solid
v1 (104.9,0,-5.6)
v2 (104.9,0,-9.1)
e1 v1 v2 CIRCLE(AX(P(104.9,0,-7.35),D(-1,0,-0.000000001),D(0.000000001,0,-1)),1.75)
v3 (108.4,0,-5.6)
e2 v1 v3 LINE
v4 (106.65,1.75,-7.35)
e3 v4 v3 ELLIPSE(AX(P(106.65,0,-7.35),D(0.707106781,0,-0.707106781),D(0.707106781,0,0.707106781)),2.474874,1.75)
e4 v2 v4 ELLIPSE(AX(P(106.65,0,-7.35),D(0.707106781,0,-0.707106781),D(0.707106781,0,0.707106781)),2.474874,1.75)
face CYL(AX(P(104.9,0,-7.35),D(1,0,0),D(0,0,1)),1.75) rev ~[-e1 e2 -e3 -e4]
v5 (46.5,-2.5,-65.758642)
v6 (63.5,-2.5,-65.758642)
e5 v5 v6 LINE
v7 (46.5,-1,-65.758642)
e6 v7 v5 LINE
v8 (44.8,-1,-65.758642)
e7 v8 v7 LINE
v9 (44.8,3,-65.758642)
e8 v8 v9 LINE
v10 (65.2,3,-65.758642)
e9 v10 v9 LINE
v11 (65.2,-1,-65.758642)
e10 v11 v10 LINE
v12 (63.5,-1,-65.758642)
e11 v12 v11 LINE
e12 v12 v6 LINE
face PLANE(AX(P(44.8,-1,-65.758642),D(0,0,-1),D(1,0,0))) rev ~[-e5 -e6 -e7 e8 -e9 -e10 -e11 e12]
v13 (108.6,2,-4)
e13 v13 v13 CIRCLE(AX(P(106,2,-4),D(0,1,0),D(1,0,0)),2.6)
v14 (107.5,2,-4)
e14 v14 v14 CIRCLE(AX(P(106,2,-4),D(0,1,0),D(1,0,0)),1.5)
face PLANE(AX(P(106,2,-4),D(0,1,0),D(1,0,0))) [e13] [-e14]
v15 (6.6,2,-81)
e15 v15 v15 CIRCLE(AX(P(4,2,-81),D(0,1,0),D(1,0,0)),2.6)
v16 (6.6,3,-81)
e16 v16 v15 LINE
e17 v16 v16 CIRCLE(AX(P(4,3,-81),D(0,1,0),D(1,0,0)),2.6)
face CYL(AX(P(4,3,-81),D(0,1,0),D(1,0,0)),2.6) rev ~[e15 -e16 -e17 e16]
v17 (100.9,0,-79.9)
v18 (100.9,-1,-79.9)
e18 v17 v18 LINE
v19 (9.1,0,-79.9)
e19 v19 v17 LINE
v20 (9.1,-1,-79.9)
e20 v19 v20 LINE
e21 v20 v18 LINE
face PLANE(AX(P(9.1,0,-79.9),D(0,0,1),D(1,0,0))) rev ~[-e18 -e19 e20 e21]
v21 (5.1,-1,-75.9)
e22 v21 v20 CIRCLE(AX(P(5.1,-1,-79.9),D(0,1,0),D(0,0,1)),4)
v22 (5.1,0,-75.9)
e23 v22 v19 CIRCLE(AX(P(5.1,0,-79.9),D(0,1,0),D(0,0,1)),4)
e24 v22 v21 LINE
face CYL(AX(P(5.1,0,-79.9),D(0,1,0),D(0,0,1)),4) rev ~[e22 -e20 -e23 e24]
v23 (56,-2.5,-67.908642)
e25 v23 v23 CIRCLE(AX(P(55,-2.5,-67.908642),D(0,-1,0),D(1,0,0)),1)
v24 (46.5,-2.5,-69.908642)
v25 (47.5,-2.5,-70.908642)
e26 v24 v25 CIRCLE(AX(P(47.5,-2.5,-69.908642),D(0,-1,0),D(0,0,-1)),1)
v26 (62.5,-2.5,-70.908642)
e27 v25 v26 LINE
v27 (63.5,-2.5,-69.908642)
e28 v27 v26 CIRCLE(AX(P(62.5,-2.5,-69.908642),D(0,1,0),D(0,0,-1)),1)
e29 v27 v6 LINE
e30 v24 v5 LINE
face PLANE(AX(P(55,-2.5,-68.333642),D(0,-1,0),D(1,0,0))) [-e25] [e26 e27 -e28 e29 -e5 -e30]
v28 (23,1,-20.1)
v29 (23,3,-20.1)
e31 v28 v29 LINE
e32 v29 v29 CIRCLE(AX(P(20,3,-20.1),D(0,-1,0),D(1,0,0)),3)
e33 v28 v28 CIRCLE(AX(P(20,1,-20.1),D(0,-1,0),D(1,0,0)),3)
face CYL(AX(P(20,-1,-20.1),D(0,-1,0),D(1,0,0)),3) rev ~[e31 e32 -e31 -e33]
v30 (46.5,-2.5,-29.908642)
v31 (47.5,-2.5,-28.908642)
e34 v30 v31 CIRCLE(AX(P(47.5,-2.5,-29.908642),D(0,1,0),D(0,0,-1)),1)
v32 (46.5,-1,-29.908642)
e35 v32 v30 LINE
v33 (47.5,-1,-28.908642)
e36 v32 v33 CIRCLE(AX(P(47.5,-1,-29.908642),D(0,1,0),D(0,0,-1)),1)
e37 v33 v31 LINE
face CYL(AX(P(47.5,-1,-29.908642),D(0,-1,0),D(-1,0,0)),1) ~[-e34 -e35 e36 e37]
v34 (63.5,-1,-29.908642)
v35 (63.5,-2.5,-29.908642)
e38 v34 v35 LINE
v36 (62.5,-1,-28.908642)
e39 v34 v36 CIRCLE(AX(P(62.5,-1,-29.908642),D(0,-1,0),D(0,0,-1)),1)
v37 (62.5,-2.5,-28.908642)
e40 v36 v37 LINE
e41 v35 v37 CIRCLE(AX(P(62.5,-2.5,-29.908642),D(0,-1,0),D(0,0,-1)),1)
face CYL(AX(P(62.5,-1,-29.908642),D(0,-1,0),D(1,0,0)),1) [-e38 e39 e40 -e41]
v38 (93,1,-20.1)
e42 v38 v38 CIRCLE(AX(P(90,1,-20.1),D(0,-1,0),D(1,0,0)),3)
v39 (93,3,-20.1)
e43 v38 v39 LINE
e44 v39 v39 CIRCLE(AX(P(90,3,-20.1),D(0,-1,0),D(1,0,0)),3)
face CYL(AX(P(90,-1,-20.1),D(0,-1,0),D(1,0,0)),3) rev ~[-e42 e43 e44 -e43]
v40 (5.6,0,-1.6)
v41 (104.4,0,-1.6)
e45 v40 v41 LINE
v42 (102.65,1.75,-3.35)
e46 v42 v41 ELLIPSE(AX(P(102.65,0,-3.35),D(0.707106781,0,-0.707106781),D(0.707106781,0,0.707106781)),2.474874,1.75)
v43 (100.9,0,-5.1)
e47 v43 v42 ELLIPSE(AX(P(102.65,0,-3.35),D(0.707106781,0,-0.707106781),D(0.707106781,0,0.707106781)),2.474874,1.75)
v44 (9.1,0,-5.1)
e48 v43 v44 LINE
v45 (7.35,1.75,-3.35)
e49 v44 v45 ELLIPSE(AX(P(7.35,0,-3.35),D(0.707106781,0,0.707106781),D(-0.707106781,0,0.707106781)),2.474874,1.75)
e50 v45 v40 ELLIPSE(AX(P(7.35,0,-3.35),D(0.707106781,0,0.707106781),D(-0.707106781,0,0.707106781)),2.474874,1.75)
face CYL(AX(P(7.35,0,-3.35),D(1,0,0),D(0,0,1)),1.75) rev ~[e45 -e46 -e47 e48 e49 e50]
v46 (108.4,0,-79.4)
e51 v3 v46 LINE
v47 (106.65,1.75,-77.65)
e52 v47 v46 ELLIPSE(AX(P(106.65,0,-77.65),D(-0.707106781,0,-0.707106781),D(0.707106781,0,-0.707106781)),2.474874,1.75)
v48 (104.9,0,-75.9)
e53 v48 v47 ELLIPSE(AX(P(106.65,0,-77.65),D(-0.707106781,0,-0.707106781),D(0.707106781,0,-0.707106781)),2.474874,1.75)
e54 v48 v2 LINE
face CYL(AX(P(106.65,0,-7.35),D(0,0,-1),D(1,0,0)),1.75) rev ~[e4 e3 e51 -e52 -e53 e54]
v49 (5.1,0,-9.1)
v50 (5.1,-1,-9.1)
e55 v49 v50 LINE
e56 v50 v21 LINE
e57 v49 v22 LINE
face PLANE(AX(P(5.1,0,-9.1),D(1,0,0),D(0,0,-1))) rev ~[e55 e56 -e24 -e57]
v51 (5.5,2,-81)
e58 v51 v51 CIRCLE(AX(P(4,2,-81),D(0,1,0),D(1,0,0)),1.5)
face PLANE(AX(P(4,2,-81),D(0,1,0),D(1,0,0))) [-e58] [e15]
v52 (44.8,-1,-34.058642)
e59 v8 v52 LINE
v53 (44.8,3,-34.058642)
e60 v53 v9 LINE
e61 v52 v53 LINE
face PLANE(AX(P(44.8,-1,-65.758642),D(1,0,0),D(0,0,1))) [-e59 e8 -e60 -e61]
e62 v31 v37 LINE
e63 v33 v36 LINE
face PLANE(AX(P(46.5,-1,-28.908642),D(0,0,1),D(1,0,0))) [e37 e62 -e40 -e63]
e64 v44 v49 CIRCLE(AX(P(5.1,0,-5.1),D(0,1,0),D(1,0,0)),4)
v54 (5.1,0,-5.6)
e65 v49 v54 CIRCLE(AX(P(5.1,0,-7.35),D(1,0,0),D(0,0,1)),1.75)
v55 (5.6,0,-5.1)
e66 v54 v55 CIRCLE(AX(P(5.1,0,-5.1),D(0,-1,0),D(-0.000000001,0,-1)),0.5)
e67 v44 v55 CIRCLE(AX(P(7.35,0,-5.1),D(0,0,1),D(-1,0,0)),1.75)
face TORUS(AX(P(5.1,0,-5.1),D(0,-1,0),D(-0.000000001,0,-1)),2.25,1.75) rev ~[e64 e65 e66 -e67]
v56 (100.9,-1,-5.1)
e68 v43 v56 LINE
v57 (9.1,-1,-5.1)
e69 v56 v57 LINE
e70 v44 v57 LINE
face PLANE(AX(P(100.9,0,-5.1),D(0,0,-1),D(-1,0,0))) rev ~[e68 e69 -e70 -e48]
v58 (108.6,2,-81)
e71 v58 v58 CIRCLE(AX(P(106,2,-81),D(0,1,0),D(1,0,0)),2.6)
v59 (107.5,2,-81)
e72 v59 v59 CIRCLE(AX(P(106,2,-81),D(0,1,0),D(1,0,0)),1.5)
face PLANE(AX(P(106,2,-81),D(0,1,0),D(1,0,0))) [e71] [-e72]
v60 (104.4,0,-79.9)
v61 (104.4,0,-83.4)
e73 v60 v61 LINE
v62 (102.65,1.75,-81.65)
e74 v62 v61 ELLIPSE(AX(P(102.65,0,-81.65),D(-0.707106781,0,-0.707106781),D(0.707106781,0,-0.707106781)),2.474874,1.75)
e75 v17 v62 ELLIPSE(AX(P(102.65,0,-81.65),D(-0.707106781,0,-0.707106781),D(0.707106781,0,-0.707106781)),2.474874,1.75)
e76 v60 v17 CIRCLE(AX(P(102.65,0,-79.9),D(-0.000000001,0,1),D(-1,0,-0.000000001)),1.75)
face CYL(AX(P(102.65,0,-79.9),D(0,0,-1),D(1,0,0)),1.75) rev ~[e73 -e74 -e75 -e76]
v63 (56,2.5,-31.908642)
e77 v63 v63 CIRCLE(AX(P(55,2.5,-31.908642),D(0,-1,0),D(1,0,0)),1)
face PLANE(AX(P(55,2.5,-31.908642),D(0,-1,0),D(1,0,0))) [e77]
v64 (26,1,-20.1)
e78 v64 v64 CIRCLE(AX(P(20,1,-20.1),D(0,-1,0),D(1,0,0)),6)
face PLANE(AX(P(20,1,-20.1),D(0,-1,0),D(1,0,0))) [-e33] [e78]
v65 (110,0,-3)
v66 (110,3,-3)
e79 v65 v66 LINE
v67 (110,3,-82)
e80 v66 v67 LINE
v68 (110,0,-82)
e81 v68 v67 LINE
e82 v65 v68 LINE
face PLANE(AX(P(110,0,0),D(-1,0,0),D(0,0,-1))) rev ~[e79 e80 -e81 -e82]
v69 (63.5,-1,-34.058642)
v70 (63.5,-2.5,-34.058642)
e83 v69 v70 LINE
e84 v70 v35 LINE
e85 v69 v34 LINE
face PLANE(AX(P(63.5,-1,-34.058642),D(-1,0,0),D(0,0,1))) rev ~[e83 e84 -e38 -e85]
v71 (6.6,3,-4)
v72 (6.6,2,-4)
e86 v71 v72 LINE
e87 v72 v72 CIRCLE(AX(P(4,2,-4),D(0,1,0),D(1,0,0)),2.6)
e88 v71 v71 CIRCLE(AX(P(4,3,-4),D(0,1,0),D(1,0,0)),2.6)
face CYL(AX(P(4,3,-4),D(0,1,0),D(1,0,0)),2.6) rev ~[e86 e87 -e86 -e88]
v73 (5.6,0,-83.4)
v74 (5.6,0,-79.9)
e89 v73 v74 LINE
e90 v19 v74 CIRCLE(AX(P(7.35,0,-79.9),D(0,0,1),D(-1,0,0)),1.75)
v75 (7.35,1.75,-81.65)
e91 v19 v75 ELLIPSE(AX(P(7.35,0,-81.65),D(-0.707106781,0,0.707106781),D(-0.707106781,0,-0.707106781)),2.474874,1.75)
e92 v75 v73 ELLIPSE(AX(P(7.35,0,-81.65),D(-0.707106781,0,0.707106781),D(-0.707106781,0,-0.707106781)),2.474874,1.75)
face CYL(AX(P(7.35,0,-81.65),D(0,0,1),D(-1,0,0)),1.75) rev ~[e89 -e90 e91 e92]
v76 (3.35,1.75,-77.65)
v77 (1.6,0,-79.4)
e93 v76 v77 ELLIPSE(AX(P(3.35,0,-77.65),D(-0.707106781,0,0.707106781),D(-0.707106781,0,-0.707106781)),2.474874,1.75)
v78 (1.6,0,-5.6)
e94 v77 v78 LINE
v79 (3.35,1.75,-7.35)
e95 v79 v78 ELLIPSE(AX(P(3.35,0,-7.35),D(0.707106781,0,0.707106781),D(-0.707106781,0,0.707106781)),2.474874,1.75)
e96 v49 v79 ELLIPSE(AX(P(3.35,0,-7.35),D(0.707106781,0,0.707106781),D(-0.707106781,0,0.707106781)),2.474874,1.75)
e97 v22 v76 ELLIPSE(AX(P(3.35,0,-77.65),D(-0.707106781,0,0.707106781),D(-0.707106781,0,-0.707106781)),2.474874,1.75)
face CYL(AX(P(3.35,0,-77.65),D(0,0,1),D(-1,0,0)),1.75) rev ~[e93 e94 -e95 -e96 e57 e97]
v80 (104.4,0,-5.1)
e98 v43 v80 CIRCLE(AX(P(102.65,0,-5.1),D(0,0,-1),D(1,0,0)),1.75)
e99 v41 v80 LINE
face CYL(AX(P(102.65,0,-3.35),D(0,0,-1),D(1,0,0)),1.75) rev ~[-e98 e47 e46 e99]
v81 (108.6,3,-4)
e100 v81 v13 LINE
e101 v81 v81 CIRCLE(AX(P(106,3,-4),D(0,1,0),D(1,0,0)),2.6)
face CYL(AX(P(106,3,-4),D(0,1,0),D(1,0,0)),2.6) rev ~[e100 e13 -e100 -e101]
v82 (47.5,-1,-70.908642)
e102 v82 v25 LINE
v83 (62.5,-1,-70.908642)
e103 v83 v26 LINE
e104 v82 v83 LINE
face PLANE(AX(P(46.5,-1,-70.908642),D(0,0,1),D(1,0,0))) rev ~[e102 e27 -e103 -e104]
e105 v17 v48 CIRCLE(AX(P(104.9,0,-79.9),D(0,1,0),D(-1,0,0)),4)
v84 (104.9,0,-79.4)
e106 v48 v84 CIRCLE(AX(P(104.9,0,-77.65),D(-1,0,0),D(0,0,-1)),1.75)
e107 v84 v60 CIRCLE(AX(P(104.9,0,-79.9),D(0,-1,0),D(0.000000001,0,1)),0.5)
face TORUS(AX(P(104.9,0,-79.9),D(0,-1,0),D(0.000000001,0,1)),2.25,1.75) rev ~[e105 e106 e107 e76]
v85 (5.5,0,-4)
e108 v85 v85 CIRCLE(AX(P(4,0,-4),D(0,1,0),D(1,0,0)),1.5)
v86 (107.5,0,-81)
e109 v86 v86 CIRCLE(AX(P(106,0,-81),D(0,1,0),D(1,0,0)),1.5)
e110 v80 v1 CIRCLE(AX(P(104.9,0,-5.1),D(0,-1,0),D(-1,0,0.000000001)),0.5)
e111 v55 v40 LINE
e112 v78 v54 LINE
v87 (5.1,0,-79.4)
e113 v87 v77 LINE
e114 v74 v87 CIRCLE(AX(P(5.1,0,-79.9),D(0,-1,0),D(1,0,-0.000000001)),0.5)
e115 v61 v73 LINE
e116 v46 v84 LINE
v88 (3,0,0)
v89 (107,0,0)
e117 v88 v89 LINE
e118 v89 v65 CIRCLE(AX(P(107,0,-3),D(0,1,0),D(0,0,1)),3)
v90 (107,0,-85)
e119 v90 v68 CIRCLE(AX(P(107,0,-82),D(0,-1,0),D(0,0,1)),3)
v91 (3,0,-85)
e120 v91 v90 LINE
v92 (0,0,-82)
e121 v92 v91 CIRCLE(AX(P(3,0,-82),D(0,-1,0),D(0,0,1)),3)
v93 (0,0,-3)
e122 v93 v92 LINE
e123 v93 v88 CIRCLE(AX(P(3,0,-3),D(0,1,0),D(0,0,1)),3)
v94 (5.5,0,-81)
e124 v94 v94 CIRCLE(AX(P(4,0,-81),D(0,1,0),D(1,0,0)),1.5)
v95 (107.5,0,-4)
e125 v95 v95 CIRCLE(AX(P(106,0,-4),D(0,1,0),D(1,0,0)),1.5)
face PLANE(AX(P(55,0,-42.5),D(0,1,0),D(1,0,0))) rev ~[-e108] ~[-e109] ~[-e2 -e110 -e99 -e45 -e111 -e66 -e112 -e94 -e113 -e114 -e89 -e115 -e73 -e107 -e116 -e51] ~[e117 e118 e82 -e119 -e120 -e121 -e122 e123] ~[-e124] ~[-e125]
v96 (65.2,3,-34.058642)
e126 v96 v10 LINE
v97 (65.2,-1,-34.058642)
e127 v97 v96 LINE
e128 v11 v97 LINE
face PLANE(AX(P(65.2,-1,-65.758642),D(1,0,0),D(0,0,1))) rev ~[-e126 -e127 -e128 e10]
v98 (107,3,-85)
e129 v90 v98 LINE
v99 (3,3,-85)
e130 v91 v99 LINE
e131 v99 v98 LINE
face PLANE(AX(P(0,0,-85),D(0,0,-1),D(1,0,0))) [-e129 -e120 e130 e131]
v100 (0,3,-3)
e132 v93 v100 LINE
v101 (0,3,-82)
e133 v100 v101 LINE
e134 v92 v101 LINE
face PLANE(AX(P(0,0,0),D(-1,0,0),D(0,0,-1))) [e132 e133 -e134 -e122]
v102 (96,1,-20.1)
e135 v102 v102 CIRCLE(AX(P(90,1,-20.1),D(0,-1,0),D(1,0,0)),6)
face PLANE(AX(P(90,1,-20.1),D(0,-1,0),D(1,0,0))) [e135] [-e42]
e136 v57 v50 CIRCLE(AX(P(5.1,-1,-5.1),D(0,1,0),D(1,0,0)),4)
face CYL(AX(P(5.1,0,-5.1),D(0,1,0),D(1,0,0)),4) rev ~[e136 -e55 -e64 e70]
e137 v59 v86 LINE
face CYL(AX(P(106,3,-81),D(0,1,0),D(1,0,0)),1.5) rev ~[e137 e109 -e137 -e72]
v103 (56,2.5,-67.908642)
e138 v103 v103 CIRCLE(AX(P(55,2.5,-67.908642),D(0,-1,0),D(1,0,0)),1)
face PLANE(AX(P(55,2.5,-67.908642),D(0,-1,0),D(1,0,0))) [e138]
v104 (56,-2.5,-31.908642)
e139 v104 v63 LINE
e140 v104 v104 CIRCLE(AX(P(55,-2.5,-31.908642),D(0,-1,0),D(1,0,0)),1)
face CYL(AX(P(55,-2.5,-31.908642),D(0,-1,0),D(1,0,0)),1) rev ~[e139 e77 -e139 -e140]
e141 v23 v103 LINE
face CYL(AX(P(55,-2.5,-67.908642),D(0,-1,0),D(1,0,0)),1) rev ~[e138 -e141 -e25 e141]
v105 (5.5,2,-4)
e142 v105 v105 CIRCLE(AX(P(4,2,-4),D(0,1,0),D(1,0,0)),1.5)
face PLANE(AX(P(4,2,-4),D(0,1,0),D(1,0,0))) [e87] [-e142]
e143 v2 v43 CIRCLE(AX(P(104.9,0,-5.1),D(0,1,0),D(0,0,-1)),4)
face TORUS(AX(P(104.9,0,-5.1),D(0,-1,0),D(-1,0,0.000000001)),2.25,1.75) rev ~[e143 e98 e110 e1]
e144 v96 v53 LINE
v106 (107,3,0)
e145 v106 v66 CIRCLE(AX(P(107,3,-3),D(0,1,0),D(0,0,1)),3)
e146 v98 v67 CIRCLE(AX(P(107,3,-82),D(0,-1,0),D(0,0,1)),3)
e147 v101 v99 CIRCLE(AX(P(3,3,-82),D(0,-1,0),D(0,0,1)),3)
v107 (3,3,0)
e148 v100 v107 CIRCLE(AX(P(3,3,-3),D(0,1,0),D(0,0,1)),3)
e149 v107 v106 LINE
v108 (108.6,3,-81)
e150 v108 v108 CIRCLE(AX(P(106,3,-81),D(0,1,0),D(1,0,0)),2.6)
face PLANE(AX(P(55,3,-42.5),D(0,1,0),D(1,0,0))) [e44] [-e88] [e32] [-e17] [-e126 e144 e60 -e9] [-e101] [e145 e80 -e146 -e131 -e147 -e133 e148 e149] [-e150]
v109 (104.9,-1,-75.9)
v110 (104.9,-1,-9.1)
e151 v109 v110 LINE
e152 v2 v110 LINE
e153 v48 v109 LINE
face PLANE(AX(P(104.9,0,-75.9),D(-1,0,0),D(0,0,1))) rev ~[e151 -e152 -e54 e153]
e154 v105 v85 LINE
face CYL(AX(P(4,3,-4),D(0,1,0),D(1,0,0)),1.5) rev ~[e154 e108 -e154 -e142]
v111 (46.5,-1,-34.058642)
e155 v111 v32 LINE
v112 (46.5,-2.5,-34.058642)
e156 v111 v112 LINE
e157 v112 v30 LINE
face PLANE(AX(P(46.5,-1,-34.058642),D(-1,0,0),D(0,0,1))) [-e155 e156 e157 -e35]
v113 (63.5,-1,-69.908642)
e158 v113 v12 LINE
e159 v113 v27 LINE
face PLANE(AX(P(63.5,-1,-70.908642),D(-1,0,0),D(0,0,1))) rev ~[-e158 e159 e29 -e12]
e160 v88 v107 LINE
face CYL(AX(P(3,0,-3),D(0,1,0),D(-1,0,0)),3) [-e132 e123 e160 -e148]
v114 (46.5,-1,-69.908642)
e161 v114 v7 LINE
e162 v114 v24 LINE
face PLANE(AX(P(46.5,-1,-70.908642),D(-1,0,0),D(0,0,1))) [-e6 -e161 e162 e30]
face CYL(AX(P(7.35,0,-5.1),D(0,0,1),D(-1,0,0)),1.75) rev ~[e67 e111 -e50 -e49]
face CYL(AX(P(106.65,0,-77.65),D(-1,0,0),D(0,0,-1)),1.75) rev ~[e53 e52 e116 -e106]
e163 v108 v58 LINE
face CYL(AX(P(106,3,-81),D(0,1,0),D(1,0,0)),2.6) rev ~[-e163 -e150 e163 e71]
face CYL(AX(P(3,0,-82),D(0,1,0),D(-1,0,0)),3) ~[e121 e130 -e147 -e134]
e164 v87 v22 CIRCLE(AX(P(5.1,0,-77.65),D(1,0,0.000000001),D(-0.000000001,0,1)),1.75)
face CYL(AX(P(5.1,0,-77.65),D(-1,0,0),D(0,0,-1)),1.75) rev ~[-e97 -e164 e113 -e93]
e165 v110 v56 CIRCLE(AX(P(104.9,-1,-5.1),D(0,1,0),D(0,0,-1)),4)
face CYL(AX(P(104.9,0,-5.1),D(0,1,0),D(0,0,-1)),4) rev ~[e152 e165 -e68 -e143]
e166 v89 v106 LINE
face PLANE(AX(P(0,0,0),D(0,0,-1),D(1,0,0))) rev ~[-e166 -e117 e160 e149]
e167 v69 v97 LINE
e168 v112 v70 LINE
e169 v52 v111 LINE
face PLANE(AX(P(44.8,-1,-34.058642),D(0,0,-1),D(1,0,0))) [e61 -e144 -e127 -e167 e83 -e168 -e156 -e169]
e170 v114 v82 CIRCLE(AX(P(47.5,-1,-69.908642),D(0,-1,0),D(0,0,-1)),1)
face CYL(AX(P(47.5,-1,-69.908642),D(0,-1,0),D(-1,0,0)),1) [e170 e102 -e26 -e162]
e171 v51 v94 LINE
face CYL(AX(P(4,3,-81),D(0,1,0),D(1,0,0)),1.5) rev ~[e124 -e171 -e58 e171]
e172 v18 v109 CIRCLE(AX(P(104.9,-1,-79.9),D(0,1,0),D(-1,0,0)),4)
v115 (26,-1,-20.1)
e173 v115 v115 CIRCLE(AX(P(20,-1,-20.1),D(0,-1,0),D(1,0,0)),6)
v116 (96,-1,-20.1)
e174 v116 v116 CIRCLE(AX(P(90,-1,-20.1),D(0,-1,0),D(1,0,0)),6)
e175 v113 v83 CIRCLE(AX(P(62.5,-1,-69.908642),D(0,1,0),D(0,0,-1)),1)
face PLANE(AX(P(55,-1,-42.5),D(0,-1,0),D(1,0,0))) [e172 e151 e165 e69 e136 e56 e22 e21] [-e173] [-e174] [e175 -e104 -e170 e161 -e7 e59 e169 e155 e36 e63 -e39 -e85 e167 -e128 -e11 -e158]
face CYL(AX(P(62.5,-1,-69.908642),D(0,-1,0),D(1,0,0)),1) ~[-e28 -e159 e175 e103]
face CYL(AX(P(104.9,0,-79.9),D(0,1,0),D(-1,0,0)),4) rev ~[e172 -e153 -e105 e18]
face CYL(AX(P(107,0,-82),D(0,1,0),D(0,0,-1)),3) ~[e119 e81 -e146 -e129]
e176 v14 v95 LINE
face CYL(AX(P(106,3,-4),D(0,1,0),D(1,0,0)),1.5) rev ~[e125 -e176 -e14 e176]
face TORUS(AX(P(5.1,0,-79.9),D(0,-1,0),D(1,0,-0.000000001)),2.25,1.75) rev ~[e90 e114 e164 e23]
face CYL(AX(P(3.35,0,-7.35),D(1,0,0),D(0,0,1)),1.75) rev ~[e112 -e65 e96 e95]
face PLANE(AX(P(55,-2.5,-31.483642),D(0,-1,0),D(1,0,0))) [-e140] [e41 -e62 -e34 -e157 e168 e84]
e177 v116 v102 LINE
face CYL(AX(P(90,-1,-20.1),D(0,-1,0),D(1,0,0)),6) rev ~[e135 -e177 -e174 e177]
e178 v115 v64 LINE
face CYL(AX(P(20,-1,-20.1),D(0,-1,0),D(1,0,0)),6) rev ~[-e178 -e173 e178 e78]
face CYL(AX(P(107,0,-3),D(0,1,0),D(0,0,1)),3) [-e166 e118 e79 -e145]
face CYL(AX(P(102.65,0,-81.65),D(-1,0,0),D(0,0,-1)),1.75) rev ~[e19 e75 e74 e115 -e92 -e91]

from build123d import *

# Parameters (mm, degrees)
SKETCH1_W           = 110
SKETCH1_H           = 85
BOSS_EXTRUDE1_DEPTH = 3
BOSS_EXTRUDE2_DEPTH = 1
SKETCH3_R           = 2.6
SKETCH3_R_2         = 1.5
CUT_EXTRUDE1_DEPTH  = 1
CUT_EXTRUDE2_REACH  = 6
SKETCH3_2_R         = 1.5
FILLET1_R           = 3
SKETCH15_R          = 1.75
CUT_EXTRUDE3_REACH  = 6
SKETCH17_R          = 3
SKETCH17_3_R        = 6
SKETCH17_3_R_2      = 3
CUT_EXTRUDE4_DEPTH  = 2
SKETCH18_W          = 20.4
SKETCH18_H          = 31.7
CUT_EXTRUDE5_DEPTH  = 5
SKETCH18_4_W        = 17
SKETCH18_4_H        = 5.15
BOSS_EXTRUDE3_DEPTH = 1.5
SKETCH19_R          = 1
CUT_EXTRUDE6_DEPTH  = 5
FILLET2_R           = 1


with BuildPart() as part:
    # Sketch1 → Boss-Extrude1 (new body)
    with BuildSketch(Plane(origin=(0, 0, 0), x_dir=(1, 0, 0), z_dir=(0, 1, 0))):
        with Locations((55, 42.5)):
            Rectangle(SKETCH1_W, SKETCH1_H)
    extrude(amount=BOSS_EXTRUDE1_DEPTH)

    # Sketch2 → Boss-Extrude2 (add)
    with BuildSketch(Plane.XZ):
        with BuildLine():
            ThreePointArc((100.9, -79.9), (102.071572875, -77.071572875), (104.9, -75.9))
            Line((104.9, -75.9), (104.9, -9.1))
            ThreePointArc((104.9, -9.1), (102.071572875, -7.928427125), (100.9, -5.1))
            Line((100.9, -5.1), (9.1, -5.1))
            ThreePointArc((9.1, -5.1), (7.928427125, -7.928427125), (5.1, -9.1))
            Line((5.1, -9.1), (5.1, -75.9))
            ThreePointArc((5.1, -75.9), (7.928427125, -77.071572875), (9.1, -79.9))
            Line((9.1, -79.9), (100.9, -79.9))
        make_face()
    extrude(amount=BOSS_EXTRUDE2_DEPTH)

    # Sketch3 → Cut-Extrude1 (cut)
    with BuildSketch(Plane(origin=(0, 3, 0), x_dir=(1, 0, 0), z_dir=(0, 1, 0))):
        with Locations((4, 81)):
            Circle(SKETCH3_R)
        with Locations((4, 81)):
            Circle(SKETCH3_R_2, mode=Mode.SUBTRACT)
        with Locations((106, 81)):
            Circle(SKETCH3_R)
        with Locations((106, 81)):
            Circle(SKETCH3_R_2, mode=Mode.SUBTRACT)
        with Locations((106, 4)):
            Circle(SKETCH3_R)
        with Locations((106, 4)):
            Circle(SKETCH3_R_2, mode=Mode.SUBTRACT)
        with Locations((4, 4)):
            Circle(SKETCH3_R)
        with Locations((4, 4)):
            Circle(SKETCH3_R_2, mode=Mode.SUBTRACT)
    extrude(amount=-CUT_EXTRUDE1_DEPTH, mode=Mode.SUBTRACT)

    # Sketch3<2> → Cut-Extrude2 (cut, up to next)
    with BuildSketch(Plane(origin=(0, 3, 0), x_dir=(1, 0, 0), z_dir=(0, 1, 0)), mode=Mode.PRIVATE) as cut_extrude2_sk1:
        with Locations((4, 81)):
            Circle(SKETCH3_2_R)
    cut_extrude2_tool1 = extrude(cut_extrude2_sk1.sketch, amount=-CUT_EXTRUDE2_REACH, mode=Mode.PRIVATE) & part.part
    add(cut_extrude2_tool1.solids().sort_by_distance((4, 3, -81))[0], mode=Mode.SUBTRACT)
    # Sketch3<2> → Cut-Extrude2 (cut, up to next)
    with BuildSketch(Plane(origin=(0, 3, 0), x_dir=(1, 0, 0), z_dir=(0, 1, 0)), mode=Mode.PRIVATE) as cut_extrude2_sk2:
        with Locations((106, 81)):
            Circle(SKETCH3_2_R)
    cut_extrude2_tool2 = extrude(cut_extrude2_sk2.sketch, amount=-CUT_EXTRUDE2_REACH, mode=Mode.PRIVATE) & part.part
    add(cut_extrude2_tool2.solids().sort_by_distance((106, 3, -81))[0], mode=Mode.SUBTRACT)
    # Sketch3<2> → Cut-Extrude2 (cut, up to next)
    with BuildSketch(Plane(origin=(0, 3, 0), x_dir=(1, 0, 0), z_dir=(0, 1, 0)), mode=Mode.PRIVATE) as cut_extrude2_sk3:
        with Locations((106, 4)):
            Circle(SKETCH3_2_R)
    cut_extrude2_tool3 = extrude(cut_extrude2_sk3.sketch, amount=-CUT_EXTRUDE2_REACH, mode=Mode.PRIVATE) & part.part
    add(cut_extrude2_tool3.solids().sort_by_distance((106, 3, -4))[0], mode=Mode.SUBTRACT)
    # Sketch3<2> → Cut-Extrude2 (cut, up to next)
    with BuildSketch(Plane(origin=(0, 3, 0), x_dir=(1, 0, 0), z_dir=(0, 1, 0)), mode=Mode.PRIVATE) as cut_extrude2_sk4:
        with Locations((4, 4)):
            Circle(SKETCH3_2_R)
    cut_extrude2_tool4 = extrude(cut_extrude2_sk4.sketch, amount=-CUT_EXTRUDE2_REACH, mode=Mode.PRIVATE) & part.part
    add(cut_extrude2_tool4.solids().sort_by_distance((4, 3, -4))[0], mode=Mode.SUBTRACT)

    # Fillet1
    fillet1_edges = [part.edges().sort_by_distance(p)[0] for p in [
        (0, 1.5, -85),
        (110, 1.5, -85),
        (110, 1.5, 0),
        (0, 1.5, 0),
    ]]
    fillet(fillet1_edges, radius=FILLET1_R)

    # Cut-Sweep3: sweep along a path in Sketch14
    with BuildLine(Plane.XZ) as cut_sweep3_path:
        Line((7.35, -5.1), (7.35, -3.35))
        Line((7.35, -3.35), (102.65, -3.35))
        Line((102.65, -3.35), (102.65, -5.1))
        ThreePointArc((102.65, -5.1), (103.309009742, -6.690990258), (104.9, -7.35))
        Line((104.9, -7.35), (106.65, -7.35))
        Line((106.65, -7.35), (106.65, -77.65))
        Line((106.65, -77.65), (104.9, -77.65))
        ThreePointArc((104.9, -77.65), (103.309009742, -78.309009742), (102.65, -79.9))
        Line((102.65, -79.9), (102.65, -81.65))
        Line((102.65, -81.65), (7.35, -81.65))
        Line((7.35, -81.65), (7.35, -79.9))
        ThreePointArc((7.35, -79.9), (6.690990258, -78.309009742), (5.1, -77.65))
        Line((5.1, -77.65), (3.35, -77.65))
        Line((3.35, -77.65), (3.35, -7.35))
        Line((3.35, -7.35), (5.1, -7.35))
        ThreePointArc((5.1, -7.35), (6.690990258, -6.690990258), (7.35, -5.1))
    # Sketch15 → Cut-Sweep3 (sweep, cut)
    with BuildSketch(Plane.XY.offset(-77.65)):
        with Locations((106.65, 0)):
            Circle(SKETCH15_R)
    sweep(path=cut_sweep3_path.line, transition=Transition.RIGHT, mode=Mode.SUBTRACT)

    # Sketch17 → Cut-Extrude3 (cut, up to next)
    with BuildSketch(Plane.XZ.offset(1), mode=Mode.PRIVATE) as cut_extrude3_sk1:
        with Locations((20, -20.1)):
            Circle(SKETCH17_R)
    cut_extrude3_tool1 = extrude(cut_extrude3_sk1.sketch, amount=-CUT_EXTRUDE3_REACH, mode=Mode.PRIVATE) & part.part
    add(cut_extrude3_tool1.solids().sort_by_distance((20, -1, -20.1))[0], mode=Mode.SUBTRACT)
    # Sketch17 → Cut-Extrude3 (cut, up to next)
    with BuildSketch(Plane.XZ.offset(1), mode=Mode.PRIVATE) as cut_extrude3_sk2:
        with Locations((90, -20.1)):
            Circle(SKETCH17_R)
    cut_extrude3_tool2 = extrude(cut_extrude3_sk2.sketch, amount=-CUT_EXTRUDE3_REACH, mode=Mode.PRIVATE) & part.part
    add(cut_extrude3_tool2.solids().sort_by_distance((90, -1, -20.1))[0], mode=Mode.SUBTRACT)

    # Sketch17<3> → Cut-Extrude4 (cut)
    with BuildSketch(Plane.XZ.offset(1)):
        with Locations((90, -20.1)):
            Circle(SKETCH17_3_R)
        with Locations((90, -20.1)):
            Circle(SKETCH17_3_R_2, mode=Mode.SUBTRACT)
        with Locations((20, -20.1)):
            Circle(SKETCH17_3_R)
        with Locations((20, -20.1)):
            Circle(SKETCH17_3_R_2, mode=Mode.SUBTRACT)
    extrude(amount=-CUT_EXTRUDE4_DEPTH, mode=Mode.SUBTRACT)

    # Sketch18 → Cut-Extrude5 (cut, through all)
    with BuildSketch(Plane.XZ.offset(1)):
        with Locations((55, -49.908642181)):
            Rectangle(SKETCH18_W, SKETCH18_H)
    extrude(amount=-CUT_EXTRUDE5_DEPTH, mode=Mode.SUBTRACT)

    # Sketch18<4> → Boss-Extrude3 (add)
    with BuildSketch(Plane.XZ.offset(1)):
        with Locations((55, -31.483642181)):
            Rectangle(SKETCH18_4_W, SKETCH18_4_H)
        with Locations((55, -68.333642181)):
            Rectangle(SKETCH18_4_W, SKETCH18_4_H)
    extrude(amount=BOSS_EXTRUDE3_DEPTH)

    # Sketch19 → Cut-Extrude6 (cut)
    with BuildSketch(Plane.XZ.offset(2.5)):
        with Locations((55, -31.908642181)):
            Circle(SKETCH19_R)
        with Locations((55, -67.908642181)):
            Circle(SKETCH19_R)
    extrude(amount=-CUT_EXTRUDE6_DEPTH, mode=Mode.SUBTRACT)

    # Fillet2
    fillet2_edges = [part.edges().sort_by_distance(p)[0] for p in [
        (63.5, -1.75, -28.908642181),
        (46.5, -1.75, -28.908642181),
        (46.5, -1.75, -70.908642181),
        (63.5, -1.75, -70.908642181),
    ]]
    fillet(fillet2_edges, radius=FILLET2_R)


solid = part.part
